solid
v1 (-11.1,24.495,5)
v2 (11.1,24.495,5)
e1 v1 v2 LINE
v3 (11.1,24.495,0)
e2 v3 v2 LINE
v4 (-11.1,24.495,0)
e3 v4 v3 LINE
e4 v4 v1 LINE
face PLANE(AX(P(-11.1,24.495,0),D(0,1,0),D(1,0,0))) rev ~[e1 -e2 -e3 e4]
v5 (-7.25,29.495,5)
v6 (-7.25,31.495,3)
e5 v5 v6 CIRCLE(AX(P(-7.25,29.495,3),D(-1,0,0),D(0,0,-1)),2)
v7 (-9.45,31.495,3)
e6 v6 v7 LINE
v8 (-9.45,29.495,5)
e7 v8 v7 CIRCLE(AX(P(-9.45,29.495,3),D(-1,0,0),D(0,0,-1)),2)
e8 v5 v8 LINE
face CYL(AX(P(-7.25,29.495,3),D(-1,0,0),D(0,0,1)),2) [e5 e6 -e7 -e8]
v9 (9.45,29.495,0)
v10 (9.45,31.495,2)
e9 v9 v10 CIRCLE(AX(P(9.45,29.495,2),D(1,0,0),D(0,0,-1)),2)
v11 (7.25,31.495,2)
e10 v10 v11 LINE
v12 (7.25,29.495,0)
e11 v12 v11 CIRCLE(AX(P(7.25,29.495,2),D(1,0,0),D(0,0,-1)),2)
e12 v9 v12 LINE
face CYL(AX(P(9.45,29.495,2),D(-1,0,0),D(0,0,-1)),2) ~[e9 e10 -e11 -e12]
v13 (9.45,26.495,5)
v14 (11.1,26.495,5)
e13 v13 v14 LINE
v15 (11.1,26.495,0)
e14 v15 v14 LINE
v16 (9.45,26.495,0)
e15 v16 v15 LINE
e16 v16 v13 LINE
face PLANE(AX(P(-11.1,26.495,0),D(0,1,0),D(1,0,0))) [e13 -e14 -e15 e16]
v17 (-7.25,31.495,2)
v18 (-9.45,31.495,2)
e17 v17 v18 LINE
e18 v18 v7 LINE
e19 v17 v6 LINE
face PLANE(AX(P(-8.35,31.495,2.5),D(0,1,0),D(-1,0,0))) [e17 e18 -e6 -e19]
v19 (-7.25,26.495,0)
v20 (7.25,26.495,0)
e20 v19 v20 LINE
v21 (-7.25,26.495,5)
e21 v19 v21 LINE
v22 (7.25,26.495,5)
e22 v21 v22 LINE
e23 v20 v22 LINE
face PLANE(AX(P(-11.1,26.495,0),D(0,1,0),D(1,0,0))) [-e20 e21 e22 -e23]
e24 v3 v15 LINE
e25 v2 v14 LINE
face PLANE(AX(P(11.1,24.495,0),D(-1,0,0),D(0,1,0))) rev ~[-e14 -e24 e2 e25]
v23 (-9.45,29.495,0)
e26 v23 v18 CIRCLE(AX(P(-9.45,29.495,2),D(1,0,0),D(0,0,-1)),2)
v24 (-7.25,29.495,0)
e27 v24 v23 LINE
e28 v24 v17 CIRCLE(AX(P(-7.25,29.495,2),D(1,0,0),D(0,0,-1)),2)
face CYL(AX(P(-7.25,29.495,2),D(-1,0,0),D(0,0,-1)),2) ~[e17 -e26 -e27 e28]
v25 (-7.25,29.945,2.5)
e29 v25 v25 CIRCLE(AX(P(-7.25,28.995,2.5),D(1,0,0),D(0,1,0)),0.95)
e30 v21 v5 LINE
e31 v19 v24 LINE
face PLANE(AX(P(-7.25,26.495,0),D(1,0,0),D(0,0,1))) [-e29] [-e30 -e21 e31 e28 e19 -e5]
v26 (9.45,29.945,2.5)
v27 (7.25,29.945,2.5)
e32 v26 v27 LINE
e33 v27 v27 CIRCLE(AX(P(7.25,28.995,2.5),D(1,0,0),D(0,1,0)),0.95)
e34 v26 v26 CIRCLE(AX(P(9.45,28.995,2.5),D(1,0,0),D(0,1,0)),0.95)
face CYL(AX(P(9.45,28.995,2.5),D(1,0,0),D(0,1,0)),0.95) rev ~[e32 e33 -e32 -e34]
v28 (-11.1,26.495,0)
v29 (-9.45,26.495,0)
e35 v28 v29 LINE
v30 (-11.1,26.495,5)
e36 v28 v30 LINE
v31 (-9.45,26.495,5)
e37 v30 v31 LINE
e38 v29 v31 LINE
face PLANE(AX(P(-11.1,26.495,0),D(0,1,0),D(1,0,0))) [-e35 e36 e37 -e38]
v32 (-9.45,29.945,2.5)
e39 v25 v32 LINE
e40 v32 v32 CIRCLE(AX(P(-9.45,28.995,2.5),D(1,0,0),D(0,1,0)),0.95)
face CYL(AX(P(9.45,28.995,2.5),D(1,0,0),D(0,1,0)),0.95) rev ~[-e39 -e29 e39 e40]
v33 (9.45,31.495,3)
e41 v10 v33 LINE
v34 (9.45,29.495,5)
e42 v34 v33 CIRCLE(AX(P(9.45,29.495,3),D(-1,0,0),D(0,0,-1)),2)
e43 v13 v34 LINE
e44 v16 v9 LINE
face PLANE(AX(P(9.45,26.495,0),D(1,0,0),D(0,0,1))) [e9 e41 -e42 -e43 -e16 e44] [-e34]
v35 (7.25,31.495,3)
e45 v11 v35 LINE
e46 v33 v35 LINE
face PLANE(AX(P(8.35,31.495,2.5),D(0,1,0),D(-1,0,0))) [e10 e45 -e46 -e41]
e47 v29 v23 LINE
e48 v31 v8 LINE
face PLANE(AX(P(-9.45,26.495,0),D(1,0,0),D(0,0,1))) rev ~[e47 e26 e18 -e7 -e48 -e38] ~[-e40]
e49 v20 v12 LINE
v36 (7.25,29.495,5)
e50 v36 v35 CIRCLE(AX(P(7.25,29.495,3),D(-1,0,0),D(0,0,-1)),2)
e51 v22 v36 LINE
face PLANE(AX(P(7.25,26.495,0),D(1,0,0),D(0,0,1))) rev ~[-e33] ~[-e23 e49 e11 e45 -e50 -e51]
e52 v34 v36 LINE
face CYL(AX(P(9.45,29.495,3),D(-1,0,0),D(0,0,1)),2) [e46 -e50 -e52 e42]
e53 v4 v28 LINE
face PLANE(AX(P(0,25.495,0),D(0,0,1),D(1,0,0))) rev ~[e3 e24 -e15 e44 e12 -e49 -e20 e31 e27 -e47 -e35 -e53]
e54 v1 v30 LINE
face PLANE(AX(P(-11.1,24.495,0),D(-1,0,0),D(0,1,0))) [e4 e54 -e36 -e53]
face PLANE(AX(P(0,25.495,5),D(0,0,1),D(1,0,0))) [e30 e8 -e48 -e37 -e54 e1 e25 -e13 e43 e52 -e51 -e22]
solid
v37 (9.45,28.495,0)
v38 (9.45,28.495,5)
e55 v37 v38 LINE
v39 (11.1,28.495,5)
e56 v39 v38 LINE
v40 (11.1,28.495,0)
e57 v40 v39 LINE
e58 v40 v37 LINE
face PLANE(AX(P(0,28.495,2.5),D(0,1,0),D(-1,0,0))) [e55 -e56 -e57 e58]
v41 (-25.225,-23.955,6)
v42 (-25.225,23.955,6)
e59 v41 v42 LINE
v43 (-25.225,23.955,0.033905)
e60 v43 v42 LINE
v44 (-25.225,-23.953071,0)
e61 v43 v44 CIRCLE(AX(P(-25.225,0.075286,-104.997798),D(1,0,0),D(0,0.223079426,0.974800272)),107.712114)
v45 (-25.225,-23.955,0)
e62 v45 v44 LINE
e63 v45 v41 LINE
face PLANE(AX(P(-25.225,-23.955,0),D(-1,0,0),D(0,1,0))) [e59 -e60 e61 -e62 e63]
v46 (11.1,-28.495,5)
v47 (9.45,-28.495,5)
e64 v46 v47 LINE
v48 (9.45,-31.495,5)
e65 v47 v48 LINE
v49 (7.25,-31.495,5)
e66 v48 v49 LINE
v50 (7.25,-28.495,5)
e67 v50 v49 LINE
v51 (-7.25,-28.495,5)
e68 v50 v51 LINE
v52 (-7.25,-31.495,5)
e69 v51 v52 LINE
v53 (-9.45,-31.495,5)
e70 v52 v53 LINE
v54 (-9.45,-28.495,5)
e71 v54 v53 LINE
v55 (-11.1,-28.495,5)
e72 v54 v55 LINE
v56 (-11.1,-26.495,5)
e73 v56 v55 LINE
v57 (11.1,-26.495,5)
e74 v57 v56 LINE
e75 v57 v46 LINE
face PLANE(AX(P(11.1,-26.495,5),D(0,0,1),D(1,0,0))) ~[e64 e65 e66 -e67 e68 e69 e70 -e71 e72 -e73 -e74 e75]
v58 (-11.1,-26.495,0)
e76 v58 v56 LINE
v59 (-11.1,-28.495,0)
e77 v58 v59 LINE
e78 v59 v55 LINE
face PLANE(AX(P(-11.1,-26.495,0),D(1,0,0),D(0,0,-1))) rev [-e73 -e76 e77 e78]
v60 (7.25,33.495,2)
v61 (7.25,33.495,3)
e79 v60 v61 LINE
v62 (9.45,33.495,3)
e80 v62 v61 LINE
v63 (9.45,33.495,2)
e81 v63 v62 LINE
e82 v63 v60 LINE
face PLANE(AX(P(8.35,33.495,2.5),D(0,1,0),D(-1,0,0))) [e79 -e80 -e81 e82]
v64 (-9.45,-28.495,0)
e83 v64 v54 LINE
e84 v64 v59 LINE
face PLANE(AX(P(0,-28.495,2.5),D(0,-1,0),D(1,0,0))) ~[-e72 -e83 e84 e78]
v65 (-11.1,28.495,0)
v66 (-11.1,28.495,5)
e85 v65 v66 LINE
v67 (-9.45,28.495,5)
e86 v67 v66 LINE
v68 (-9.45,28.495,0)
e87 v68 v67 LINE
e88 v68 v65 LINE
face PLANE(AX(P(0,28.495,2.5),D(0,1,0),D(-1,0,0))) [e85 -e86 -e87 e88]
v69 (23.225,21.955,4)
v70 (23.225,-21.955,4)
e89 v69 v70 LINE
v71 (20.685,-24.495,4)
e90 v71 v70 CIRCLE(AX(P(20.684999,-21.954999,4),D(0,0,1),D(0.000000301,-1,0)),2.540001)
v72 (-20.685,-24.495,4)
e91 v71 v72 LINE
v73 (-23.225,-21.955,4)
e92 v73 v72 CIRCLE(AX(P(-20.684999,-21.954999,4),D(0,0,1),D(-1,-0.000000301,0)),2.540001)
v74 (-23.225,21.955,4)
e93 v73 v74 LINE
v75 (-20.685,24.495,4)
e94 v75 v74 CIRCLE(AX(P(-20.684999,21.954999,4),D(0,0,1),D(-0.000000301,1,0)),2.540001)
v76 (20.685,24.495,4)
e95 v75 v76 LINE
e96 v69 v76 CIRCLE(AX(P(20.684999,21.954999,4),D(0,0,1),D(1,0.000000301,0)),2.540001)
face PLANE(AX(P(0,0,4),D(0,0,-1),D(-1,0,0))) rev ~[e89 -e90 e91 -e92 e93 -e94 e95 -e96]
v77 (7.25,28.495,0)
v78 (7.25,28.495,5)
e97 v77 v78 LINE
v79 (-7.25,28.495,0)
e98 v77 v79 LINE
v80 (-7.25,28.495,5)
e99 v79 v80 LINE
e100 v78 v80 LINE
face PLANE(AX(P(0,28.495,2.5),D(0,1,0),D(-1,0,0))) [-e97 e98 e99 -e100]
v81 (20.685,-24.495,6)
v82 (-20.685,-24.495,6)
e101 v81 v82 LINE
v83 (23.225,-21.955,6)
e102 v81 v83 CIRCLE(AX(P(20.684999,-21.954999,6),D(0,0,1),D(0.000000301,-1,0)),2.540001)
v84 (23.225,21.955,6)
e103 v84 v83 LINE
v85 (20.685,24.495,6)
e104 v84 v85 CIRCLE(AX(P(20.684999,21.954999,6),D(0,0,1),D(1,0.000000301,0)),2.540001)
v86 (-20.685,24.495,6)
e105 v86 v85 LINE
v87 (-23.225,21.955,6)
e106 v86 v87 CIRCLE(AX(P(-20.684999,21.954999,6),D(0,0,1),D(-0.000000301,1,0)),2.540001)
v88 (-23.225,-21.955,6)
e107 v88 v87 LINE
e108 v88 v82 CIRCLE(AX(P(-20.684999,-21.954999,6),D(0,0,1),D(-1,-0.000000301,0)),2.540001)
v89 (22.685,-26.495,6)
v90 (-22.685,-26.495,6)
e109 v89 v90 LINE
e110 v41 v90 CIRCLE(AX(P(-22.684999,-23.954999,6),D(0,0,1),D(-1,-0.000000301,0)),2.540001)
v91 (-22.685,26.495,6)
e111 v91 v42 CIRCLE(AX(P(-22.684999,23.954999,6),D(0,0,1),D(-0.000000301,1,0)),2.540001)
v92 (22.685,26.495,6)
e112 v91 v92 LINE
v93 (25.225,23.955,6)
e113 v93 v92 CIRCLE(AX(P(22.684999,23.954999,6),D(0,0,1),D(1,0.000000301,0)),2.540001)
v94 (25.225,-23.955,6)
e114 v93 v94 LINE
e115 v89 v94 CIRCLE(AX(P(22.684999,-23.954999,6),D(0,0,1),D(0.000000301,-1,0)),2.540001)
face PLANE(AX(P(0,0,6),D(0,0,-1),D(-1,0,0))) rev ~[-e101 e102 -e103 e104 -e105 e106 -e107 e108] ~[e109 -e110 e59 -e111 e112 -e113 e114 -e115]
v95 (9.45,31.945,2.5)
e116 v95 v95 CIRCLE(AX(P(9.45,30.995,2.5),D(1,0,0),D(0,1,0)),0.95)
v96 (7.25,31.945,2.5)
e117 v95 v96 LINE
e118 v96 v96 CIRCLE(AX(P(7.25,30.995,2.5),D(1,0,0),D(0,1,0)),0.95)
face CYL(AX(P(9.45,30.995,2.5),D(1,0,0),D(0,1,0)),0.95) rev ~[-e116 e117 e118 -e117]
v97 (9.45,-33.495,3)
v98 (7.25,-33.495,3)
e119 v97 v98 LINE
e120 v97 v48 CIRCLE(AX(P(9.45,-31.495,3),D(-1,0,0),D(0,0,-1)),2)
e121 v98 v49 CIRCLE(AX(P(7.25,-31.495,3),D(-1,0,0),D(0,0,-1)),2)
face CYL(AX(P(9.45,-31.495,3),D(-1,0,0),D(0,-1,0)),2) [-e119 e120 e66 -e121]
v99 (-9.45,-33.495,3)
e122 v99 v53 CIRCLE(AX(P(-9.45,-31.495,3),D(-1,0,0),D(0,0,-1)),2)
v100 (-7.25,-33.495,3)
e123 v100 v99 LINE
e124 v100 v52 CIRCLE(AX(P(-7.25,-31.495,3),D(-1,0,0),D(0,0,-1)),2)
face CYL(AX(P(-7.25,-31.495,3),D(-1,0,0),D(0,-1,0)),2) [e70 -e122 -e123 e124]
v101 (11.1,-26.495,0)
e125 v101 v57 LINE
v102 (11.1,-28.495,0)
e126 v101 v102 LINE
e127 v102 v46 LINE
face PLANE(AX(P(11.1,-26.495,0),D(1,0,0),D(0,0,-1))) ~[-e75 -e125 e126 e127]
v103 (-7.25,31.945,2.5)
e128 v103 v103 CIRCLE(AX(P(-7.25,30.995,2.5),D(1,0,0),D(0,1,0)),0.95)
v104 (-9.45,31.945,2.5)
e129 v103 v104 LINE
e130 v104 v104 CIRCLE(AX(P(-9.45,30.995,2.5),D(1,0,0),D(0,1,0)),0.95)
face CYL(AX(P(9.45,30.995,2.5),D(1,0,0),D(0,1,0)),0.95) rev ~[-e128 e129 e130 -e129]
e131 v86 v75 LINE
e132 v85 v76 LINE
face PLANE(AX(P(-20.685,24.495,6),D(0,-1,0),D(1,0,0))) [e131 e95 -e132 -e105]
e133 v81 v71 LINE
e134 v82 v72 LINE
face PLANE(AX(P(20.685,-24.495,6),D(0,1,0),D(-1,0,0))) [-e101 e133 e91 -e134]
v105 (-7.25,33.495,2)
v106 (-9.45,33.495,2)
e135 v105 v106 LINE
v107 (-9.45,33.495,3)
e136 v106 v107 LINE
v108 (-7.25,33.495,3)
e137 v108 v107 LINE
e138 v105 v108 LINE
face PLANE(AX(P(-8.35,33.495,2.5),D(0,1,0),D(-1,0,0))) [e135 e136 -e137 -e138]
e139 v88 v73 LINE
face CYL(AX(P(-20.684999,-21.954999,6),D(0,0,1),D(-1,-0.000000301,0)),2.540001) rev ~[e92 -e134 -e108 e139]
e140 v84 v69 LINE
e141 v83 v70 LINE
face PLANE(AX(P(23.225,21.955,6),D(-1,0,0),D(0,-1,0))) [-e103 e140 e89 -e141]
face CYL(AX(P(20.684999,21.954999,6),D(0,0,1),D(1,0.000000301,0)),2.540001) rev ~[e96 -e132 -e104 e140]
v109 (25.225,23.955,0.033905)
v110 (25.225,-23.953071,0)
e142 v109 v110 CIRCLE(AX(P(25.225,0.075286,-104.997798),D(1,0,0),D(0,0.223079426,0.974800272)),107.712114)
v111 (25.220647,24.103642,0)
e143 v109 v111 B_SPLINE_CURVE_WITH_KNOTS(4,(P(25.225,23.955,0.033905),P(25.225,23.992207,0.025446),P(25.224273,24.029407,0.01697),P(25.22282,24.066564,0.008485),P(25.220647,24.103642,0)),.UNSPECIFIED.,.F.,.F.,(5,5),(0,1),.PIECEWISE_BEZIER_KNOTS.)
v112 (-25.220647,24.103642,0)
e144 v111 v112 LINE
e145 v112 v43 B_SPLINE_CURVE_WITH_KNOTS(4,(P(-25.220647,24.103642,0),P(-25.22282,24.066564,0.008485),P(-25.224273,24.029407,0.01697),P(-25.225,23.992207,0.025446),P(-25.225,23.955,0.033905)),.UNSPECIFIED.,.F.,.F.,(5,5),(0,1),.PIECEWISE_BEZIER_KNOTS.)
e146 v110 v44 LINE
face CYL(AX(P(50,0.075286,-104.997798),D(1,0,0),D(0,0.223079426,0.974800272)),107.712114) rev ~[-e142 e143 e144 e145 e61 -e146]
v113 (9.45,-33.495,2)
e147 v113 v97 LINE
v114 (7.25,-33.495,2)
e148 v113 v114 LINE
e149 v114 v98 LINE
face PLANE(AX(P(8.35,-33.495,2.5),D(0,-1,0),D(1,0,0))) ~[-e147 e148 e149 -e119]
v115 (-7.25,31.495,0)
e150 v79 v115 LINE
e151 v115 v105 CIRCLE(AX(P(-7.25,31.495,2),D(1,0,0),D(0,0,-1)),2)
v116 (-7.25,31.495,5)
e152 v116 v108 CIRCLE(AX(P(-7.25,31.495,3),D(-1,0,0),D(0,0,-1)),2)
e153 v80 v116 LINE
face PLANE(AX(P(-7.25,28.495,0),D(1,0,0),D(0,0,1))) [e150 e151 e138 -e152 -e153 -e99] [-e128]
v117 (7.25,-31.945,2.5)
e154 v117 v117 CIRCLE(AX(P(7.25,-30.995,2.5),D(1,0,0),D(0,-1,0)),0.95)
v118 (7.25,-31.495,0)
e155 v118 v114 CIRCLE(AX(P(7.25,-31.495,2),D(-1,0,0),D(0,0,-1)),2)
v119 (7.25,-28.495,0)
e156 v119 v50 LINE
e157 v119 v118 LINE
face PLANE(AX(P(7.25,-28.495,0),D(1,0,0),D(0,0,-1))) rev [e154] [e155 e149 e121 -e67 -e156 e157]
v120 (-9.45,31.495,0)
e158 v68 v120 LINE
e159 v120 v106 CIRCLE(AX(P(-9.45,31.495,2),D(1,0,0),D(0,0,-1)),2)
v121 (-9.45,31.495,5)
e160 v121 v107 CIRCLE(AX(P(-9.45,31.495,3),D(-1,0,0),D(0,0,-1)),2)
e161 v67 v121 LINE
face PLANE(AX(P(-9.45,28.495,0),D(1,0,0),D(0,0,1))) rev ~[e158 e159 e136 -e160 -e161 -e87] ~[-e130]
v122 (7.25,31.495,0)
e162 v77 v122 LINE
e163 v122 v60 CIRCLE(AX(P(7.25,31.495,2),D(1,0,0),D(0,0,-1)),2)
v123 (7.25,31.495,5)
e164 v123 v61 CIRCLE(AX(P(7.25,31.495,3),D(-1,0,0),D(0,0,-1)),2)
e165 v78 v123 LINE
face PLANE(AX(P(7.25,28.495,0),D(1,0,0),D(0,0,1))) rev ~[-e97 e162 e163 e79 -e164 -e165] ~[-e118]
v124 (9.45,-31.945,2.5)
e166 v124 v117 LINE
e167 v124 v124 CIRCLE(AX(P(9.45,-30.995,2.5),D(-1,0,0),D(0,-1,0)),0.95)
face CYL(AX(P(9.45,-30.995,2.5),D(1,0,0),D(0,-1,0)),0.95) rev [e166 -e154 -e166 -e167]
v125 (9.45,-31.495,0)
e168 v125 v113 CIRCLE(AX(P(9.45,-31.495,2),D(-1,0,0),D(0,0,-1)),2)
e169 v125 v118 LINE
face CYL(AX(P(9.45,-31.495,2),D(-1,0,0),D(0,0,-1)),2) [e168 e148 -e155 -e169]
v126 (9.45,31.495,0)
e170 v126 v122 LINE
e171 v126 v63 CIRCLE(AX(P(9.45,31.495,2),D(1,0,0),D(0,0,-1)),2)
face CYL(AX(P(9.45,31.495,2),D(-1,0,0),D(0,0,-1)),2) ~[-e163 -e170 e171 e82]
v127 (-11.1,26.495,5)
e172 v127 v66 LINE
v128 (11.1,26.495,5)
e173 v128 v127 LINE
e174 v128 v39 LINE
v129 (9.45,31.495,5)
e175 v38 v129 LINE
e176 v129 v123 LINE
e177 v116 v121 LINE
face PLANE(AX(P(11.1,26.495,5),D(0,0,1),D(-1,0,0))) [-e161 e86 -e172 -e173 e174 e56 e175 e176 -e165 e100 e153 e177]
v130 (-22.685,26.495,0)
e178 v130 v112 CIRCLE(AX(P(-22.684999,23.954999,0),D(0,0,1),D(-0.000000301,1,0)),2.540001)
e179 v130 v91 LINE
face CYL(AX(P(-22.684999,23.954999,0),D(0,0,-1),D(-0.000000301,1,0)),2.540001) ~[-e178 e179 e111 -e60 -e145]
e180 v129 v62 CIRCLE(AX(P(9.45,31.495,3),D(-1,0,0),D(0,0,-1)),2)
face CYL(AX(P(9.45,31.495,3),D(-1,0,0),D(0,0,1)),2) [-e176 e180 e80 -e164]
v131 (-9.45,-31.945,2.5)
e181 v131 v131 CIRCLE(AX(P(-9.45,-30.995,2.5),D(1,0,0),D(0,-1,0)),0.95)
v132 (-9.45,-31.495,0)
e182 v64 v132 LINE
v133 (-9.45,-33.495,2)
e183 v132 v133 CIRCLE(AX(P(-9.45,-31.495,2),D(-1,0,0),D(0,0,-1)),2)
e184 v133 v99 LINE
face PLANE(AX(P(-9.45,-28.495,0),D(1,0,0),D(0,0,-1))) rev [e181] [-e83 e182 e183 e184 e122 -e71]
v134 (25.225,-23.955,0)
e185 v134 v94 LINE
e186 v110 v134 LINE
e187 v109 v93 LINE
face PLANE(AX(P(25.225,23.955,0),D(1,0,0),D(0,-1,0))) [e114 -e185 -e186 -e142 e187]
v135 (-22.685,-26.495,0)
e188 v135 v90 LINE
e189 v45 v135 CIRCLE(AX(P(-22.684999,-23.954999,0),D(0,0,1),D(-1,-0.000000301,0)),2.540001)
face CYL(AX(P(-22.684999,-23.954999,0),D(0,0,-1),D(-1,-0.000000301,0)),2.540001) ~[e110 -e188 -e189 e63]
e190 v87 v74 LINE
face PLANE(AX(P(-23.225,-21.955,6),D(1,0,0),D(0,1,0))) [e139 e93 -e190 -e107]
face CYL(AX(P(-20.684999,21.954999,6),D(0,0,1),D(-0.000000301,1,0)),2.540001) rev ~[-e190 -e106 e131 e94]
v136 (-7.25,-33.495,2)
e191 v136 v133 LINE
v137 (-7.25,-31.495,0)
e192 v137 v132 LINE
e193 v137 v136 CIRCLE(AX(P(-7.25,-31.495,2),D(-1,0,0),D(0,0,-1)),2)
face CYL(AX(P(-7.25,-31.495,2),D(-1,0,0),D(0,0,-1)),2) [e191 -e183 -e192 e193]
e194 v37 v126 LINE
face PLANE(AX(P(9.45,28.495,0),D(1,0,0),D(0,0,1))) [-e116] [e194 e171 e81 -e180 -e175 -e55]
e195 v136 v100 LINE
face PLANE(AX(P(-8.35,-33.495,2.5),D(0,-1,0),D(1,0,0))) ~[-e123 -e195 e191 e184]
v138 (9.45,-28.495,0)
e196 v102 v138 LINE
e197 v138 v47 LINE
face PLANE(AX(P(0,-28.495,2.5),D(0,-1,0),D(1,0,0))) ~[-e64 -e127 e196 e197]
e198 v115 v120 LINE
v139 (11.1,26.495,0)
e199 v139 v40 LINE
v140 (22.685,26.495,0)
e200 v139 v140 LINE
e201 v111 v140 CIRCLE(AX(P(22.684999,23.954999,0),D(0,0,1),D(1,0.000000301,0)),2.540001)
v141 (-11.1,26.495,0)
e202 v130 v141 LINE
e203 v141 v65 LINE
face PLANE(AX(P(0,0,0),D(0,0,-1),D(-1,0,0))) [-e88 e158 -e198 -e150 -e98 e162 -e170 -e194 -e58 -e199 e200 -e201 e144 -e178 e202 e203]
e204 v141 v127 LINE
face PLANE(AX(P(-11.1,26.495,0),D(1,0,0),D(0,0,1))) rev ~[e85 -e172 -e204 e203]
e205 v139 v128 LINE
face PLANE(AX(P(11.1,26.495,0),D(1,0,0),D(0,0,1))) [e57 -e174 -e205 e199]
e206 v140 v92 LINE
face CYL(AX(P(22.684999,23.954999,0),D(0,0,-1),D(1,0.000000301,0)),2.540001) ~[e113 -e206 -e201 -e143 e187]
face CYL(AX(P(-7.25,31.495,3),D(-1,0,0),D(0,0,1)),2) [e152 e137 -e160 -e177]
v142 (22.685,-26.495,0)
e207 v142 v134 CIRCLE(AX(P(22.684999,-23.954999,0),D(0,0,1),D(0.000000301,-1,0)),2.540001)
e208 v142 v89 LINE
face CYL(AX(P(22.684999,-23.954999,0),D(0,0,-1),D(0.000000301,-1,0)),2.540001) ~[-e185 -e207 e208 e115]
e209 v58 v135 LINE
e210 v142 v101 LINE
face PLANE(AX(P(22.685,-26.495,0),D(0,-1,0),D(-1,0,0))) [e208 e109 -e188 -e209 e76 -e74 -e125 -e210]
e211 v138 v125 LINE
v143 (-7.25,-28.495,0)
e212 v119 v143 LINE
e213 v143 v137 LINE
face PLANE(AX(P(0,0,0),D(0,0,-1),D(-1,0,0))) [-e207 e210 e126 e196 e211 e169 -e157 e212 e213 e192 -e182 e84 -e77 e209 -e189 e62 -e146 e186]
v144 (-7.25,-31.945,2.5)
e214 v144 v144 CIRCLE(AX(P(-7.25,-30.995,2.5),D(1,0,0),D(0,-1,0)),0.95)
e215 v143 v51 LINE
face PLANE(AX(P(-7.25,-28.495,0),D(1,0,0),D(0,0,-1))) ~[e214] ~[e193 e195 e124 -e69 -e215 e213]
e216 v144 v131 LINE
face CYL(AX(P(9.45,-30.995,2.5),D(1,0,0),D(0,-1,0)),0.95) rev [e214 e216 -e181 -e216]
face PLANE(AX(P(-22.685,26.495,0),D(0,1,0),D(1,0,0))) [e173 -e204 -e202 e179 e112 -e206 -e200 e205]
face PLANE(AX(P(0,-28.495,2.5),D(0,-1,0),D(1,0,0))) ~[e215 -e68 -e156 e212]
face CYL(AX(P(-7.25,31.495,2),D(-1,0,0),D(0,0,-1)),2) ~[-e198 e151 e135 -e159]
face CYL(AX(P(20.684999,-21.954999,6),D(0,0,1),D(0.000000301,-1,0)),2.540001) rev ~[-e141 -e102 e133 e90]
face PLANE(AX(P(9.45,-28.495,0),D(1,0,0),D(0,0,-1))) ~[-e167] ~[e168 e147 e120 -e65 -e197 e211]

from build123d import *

# Parameters (mm, degrees)
SKETCH_W        = 22.2
SKETCH_H        = 2
PAD_DEPTH       = 5
SKETCH001_W     = 2.2
SKETCH001_H     = 5
PAD001_DEPTH    = 5
FILLET_R        = 2
SKETCH002_R     = 0.95
POCKET_DEPTH    = 68.167804
PAD002_DEPTH    = 6
POCKET001_DEPTH = 2
SKETCH006_W     = 22.2
SKETCH006_H     = 5
PAD003_DEPTH    = 2
SKETCH007_W     = 2.2
SKETCH007_H     = 5
PAD004_DEPTH    = 5
SKETCH008_R     = 0.95
POCKET002_DEPTH = 191.901985
FILLET001_R     = 2
POCKET003_DEPTH = 75.226


with BuildPart() as connector:
    # Sketch → Pad (new body)
    with BuildSketch(Plane.XY):
        Rectangle(SKETCH_W, SKETCH_H)
    extrude(amount=PAD_DEPTH)

    # Sketch001 (on Face1 of Pad) → Pad001 (join)
    with BuildSketch(Plane(origin=(0, 1, 0), x_dir=(-1, 0, 0), z_dir=(0, 1, 0))):
        with Locations((-8.35, 2.5)):
            Rectangle(SKETCH001_W, SKETCH001_H)
        with Locations((8.35, 2.5)):
            Rectangle(SKETCH001_W, SKETCH001_H)
    extrude(amount=PAD001_DEPTH)

    # Fillet
    fillet_edges = [connector.edges().sort_by_distance(p)[0] for p in [
        (8.35, 6, 5),
        (-8.35, 6, 5),
        (-8.35, 6, 0),
        (8.35, 6, 0),
    ]]
    fillet(fillet_edges, radius=FILLET_R)

    # Sketch002 (on Face20 of Fillet) → Pocket (cut, through all)
    with BuildSketch(Plane.YZ.offset(9.45)):
        with Locations((3.5, 2.5)):
            Circle(SKETCH002_R)
    pocket = extrude(amount=-POCKET_DEPTH, mode=Mode.SUBTRACT)

    # Mirrored: Pocket across Sketch002 H_Axis
    add(pocket.mirror(Plane(origin=(9.45, 0, 0), x_dir=(1, 0, 0), z_dir=(0, 0, 1))), mode=Mode.SUBTRACT)


with BuildPart() as connector_1:
    # Body placement: moved
    add(connector.part.moved(Location((0, 25.495, 0))))


with BuildPart() as main:
    # Sketch004 → Pad002 (new body)
    with BuildSketch(Plane.XY):
        with BuildLine():
            Line((-22.685, 26.495), (22.685, 26.495))
            ThreePointArc((25.225, 23.955), (24.481051, 25.751051), (22.685, 26.495))
            Line((25.225, 23.955), (25.225, -23.955))
            ThreePointArc((22.685, -26.495), (24.481051, -25.751051), (25.225, -23.955))
            Line((22.685, -26.495), (-22.685, -26.495))
            ThreePointArc((-25.225, -23.955), (-24.481051, -25.751051), (-22.685, -26.495))
            Line((-25.225, -23.955), (-25.225, 23.955))
            ThreePointArc((-22.685, 26.495), (-24.481051, 25.751051), (-25.225, 23.955))
        make_face()
    extrude(amount=PAD002_DEPTH)

    # Sketch005 → Pocket001 (cut)
    with BuildSketch(Plane.XY.offset(6)):
        with BuildLine():
            Line((-20.685, 24.495), (20.685, 24.495))
            ThreePointArc((23.225, 21.955), (22.481051, 23.751051), (20.685, 24.495))
            Line((23.225, 21.955), (23.225, -21.955))
            ThreePointArc((20.685, -24.495), (22.481051, -23.751051), (23.225, -21.955))
            Line((20.685, -24.495), (-20.685, -24.495))
            ThreePointArc((-23.225, -21.955), (-22.481051, -23.751051), (-20.685, -24.495))
            Line((-23.225, -21.955), (-23.225, 21.955))
            ThreePointArc((-20.685, 24.495), (-22.481051, 23.751051), (-23.225, 21.955))
        make_face()
    extrude(amount=-POCKET001_DEPTH, mode=Mode.SUBTRACT)

    # Sketch006 (on Face7 of Pocket001) → Pad003 (join)
    with BuildSketch(Plane(origin=(0, 26.495, 0), x_dir=(-1, 0, 0), z_dir=(0, 1, 0))):
        with Locations((0, 2.5)):
            Rectangle(SKETCH006_W, SKETCH006_H)
    pad003 = extrude(amount=PAD003_DEPTH)

    # Sketch007 (on Face23 of Pad003) → Pad004 (join)
    with BuildSketch(Plane(origin=(0, 28.495, 0), x_dir=(-1, 0, 0), z_dir=(0, 1, 0))):
        with Locations((-8.35, 2.5)):
            Rectangle(SKETCH007_W, SKETCH007_H)
        with Locations((8.35, 2.5)):
            Rectangle(SKETCH007_W, SKETCH007_H)
    pad004 = extrude(amount=PAD004_DEPTH)

    # Sketch008 (on Face35 of Pad004) → Pocket002 (cut, through all)
    with BuildSketch(Plane.YZ.offset(9.45)):
        with Locations((30.995, 2.5)):
            Circle(SKETCH008_R)
    pocket002 = extrude(amount=-POCKET002_DEPTH, mode=Mode.SUBTRACT)

    # Mirrored001: Pad003, Pad004, Pocket002 across Sketch008 V_Axis
    add(pad003.mirror(Plane(origin=(9.45, 0, 0), x_dir=(1, 0, 0), z_dir=(0, 1, 0))))
    add(pad004.mirror(Plane(origin=(9.45, 0, 0), x_dir=(1, 0, 0), z_dir=(0, 1, 0))))
    add(pocket002.mirror(Plane(origin=(9.45, 0, 0), x_dir=(1, 0, 0), z_dir=(0, 1, 0))), mode=Mode.SUBTRACT)

    # Fillet001
    fillet001_edges = [main.edges().sort_by_distance(p)[0] for p in [
        (-8.35, -33.495, 5),
        (8.35, -33.495, 5),
        (8.35, -33.495, 0),
        (-8.35, -33.495, 0),
        (8.35, 33.495, 0),
        (-8.35, 33.495, 0),
        (-8.35, 33.495, 5),
        (8.35, 33.495, 5),
    ]]
    fillet(fillet001_edges, radius=FILLET001_R)

    # Sketch009 → Pocket003 (cut, through all)
    with BuildSketch(Plane.YZ.offset(50)):
        with BuildLine():
            ThreePointArc((24.103642, 0), (0.075286, 2.714316), (-23.953071, 0))
            Line((-23.953071, 0), (24.103642, 0))
        make_face()
    extrude(amount=-POCKET003_DEPTH, mode=Mode.SUBTRACT)


solid = Compound([connector_1.part, main.part])
